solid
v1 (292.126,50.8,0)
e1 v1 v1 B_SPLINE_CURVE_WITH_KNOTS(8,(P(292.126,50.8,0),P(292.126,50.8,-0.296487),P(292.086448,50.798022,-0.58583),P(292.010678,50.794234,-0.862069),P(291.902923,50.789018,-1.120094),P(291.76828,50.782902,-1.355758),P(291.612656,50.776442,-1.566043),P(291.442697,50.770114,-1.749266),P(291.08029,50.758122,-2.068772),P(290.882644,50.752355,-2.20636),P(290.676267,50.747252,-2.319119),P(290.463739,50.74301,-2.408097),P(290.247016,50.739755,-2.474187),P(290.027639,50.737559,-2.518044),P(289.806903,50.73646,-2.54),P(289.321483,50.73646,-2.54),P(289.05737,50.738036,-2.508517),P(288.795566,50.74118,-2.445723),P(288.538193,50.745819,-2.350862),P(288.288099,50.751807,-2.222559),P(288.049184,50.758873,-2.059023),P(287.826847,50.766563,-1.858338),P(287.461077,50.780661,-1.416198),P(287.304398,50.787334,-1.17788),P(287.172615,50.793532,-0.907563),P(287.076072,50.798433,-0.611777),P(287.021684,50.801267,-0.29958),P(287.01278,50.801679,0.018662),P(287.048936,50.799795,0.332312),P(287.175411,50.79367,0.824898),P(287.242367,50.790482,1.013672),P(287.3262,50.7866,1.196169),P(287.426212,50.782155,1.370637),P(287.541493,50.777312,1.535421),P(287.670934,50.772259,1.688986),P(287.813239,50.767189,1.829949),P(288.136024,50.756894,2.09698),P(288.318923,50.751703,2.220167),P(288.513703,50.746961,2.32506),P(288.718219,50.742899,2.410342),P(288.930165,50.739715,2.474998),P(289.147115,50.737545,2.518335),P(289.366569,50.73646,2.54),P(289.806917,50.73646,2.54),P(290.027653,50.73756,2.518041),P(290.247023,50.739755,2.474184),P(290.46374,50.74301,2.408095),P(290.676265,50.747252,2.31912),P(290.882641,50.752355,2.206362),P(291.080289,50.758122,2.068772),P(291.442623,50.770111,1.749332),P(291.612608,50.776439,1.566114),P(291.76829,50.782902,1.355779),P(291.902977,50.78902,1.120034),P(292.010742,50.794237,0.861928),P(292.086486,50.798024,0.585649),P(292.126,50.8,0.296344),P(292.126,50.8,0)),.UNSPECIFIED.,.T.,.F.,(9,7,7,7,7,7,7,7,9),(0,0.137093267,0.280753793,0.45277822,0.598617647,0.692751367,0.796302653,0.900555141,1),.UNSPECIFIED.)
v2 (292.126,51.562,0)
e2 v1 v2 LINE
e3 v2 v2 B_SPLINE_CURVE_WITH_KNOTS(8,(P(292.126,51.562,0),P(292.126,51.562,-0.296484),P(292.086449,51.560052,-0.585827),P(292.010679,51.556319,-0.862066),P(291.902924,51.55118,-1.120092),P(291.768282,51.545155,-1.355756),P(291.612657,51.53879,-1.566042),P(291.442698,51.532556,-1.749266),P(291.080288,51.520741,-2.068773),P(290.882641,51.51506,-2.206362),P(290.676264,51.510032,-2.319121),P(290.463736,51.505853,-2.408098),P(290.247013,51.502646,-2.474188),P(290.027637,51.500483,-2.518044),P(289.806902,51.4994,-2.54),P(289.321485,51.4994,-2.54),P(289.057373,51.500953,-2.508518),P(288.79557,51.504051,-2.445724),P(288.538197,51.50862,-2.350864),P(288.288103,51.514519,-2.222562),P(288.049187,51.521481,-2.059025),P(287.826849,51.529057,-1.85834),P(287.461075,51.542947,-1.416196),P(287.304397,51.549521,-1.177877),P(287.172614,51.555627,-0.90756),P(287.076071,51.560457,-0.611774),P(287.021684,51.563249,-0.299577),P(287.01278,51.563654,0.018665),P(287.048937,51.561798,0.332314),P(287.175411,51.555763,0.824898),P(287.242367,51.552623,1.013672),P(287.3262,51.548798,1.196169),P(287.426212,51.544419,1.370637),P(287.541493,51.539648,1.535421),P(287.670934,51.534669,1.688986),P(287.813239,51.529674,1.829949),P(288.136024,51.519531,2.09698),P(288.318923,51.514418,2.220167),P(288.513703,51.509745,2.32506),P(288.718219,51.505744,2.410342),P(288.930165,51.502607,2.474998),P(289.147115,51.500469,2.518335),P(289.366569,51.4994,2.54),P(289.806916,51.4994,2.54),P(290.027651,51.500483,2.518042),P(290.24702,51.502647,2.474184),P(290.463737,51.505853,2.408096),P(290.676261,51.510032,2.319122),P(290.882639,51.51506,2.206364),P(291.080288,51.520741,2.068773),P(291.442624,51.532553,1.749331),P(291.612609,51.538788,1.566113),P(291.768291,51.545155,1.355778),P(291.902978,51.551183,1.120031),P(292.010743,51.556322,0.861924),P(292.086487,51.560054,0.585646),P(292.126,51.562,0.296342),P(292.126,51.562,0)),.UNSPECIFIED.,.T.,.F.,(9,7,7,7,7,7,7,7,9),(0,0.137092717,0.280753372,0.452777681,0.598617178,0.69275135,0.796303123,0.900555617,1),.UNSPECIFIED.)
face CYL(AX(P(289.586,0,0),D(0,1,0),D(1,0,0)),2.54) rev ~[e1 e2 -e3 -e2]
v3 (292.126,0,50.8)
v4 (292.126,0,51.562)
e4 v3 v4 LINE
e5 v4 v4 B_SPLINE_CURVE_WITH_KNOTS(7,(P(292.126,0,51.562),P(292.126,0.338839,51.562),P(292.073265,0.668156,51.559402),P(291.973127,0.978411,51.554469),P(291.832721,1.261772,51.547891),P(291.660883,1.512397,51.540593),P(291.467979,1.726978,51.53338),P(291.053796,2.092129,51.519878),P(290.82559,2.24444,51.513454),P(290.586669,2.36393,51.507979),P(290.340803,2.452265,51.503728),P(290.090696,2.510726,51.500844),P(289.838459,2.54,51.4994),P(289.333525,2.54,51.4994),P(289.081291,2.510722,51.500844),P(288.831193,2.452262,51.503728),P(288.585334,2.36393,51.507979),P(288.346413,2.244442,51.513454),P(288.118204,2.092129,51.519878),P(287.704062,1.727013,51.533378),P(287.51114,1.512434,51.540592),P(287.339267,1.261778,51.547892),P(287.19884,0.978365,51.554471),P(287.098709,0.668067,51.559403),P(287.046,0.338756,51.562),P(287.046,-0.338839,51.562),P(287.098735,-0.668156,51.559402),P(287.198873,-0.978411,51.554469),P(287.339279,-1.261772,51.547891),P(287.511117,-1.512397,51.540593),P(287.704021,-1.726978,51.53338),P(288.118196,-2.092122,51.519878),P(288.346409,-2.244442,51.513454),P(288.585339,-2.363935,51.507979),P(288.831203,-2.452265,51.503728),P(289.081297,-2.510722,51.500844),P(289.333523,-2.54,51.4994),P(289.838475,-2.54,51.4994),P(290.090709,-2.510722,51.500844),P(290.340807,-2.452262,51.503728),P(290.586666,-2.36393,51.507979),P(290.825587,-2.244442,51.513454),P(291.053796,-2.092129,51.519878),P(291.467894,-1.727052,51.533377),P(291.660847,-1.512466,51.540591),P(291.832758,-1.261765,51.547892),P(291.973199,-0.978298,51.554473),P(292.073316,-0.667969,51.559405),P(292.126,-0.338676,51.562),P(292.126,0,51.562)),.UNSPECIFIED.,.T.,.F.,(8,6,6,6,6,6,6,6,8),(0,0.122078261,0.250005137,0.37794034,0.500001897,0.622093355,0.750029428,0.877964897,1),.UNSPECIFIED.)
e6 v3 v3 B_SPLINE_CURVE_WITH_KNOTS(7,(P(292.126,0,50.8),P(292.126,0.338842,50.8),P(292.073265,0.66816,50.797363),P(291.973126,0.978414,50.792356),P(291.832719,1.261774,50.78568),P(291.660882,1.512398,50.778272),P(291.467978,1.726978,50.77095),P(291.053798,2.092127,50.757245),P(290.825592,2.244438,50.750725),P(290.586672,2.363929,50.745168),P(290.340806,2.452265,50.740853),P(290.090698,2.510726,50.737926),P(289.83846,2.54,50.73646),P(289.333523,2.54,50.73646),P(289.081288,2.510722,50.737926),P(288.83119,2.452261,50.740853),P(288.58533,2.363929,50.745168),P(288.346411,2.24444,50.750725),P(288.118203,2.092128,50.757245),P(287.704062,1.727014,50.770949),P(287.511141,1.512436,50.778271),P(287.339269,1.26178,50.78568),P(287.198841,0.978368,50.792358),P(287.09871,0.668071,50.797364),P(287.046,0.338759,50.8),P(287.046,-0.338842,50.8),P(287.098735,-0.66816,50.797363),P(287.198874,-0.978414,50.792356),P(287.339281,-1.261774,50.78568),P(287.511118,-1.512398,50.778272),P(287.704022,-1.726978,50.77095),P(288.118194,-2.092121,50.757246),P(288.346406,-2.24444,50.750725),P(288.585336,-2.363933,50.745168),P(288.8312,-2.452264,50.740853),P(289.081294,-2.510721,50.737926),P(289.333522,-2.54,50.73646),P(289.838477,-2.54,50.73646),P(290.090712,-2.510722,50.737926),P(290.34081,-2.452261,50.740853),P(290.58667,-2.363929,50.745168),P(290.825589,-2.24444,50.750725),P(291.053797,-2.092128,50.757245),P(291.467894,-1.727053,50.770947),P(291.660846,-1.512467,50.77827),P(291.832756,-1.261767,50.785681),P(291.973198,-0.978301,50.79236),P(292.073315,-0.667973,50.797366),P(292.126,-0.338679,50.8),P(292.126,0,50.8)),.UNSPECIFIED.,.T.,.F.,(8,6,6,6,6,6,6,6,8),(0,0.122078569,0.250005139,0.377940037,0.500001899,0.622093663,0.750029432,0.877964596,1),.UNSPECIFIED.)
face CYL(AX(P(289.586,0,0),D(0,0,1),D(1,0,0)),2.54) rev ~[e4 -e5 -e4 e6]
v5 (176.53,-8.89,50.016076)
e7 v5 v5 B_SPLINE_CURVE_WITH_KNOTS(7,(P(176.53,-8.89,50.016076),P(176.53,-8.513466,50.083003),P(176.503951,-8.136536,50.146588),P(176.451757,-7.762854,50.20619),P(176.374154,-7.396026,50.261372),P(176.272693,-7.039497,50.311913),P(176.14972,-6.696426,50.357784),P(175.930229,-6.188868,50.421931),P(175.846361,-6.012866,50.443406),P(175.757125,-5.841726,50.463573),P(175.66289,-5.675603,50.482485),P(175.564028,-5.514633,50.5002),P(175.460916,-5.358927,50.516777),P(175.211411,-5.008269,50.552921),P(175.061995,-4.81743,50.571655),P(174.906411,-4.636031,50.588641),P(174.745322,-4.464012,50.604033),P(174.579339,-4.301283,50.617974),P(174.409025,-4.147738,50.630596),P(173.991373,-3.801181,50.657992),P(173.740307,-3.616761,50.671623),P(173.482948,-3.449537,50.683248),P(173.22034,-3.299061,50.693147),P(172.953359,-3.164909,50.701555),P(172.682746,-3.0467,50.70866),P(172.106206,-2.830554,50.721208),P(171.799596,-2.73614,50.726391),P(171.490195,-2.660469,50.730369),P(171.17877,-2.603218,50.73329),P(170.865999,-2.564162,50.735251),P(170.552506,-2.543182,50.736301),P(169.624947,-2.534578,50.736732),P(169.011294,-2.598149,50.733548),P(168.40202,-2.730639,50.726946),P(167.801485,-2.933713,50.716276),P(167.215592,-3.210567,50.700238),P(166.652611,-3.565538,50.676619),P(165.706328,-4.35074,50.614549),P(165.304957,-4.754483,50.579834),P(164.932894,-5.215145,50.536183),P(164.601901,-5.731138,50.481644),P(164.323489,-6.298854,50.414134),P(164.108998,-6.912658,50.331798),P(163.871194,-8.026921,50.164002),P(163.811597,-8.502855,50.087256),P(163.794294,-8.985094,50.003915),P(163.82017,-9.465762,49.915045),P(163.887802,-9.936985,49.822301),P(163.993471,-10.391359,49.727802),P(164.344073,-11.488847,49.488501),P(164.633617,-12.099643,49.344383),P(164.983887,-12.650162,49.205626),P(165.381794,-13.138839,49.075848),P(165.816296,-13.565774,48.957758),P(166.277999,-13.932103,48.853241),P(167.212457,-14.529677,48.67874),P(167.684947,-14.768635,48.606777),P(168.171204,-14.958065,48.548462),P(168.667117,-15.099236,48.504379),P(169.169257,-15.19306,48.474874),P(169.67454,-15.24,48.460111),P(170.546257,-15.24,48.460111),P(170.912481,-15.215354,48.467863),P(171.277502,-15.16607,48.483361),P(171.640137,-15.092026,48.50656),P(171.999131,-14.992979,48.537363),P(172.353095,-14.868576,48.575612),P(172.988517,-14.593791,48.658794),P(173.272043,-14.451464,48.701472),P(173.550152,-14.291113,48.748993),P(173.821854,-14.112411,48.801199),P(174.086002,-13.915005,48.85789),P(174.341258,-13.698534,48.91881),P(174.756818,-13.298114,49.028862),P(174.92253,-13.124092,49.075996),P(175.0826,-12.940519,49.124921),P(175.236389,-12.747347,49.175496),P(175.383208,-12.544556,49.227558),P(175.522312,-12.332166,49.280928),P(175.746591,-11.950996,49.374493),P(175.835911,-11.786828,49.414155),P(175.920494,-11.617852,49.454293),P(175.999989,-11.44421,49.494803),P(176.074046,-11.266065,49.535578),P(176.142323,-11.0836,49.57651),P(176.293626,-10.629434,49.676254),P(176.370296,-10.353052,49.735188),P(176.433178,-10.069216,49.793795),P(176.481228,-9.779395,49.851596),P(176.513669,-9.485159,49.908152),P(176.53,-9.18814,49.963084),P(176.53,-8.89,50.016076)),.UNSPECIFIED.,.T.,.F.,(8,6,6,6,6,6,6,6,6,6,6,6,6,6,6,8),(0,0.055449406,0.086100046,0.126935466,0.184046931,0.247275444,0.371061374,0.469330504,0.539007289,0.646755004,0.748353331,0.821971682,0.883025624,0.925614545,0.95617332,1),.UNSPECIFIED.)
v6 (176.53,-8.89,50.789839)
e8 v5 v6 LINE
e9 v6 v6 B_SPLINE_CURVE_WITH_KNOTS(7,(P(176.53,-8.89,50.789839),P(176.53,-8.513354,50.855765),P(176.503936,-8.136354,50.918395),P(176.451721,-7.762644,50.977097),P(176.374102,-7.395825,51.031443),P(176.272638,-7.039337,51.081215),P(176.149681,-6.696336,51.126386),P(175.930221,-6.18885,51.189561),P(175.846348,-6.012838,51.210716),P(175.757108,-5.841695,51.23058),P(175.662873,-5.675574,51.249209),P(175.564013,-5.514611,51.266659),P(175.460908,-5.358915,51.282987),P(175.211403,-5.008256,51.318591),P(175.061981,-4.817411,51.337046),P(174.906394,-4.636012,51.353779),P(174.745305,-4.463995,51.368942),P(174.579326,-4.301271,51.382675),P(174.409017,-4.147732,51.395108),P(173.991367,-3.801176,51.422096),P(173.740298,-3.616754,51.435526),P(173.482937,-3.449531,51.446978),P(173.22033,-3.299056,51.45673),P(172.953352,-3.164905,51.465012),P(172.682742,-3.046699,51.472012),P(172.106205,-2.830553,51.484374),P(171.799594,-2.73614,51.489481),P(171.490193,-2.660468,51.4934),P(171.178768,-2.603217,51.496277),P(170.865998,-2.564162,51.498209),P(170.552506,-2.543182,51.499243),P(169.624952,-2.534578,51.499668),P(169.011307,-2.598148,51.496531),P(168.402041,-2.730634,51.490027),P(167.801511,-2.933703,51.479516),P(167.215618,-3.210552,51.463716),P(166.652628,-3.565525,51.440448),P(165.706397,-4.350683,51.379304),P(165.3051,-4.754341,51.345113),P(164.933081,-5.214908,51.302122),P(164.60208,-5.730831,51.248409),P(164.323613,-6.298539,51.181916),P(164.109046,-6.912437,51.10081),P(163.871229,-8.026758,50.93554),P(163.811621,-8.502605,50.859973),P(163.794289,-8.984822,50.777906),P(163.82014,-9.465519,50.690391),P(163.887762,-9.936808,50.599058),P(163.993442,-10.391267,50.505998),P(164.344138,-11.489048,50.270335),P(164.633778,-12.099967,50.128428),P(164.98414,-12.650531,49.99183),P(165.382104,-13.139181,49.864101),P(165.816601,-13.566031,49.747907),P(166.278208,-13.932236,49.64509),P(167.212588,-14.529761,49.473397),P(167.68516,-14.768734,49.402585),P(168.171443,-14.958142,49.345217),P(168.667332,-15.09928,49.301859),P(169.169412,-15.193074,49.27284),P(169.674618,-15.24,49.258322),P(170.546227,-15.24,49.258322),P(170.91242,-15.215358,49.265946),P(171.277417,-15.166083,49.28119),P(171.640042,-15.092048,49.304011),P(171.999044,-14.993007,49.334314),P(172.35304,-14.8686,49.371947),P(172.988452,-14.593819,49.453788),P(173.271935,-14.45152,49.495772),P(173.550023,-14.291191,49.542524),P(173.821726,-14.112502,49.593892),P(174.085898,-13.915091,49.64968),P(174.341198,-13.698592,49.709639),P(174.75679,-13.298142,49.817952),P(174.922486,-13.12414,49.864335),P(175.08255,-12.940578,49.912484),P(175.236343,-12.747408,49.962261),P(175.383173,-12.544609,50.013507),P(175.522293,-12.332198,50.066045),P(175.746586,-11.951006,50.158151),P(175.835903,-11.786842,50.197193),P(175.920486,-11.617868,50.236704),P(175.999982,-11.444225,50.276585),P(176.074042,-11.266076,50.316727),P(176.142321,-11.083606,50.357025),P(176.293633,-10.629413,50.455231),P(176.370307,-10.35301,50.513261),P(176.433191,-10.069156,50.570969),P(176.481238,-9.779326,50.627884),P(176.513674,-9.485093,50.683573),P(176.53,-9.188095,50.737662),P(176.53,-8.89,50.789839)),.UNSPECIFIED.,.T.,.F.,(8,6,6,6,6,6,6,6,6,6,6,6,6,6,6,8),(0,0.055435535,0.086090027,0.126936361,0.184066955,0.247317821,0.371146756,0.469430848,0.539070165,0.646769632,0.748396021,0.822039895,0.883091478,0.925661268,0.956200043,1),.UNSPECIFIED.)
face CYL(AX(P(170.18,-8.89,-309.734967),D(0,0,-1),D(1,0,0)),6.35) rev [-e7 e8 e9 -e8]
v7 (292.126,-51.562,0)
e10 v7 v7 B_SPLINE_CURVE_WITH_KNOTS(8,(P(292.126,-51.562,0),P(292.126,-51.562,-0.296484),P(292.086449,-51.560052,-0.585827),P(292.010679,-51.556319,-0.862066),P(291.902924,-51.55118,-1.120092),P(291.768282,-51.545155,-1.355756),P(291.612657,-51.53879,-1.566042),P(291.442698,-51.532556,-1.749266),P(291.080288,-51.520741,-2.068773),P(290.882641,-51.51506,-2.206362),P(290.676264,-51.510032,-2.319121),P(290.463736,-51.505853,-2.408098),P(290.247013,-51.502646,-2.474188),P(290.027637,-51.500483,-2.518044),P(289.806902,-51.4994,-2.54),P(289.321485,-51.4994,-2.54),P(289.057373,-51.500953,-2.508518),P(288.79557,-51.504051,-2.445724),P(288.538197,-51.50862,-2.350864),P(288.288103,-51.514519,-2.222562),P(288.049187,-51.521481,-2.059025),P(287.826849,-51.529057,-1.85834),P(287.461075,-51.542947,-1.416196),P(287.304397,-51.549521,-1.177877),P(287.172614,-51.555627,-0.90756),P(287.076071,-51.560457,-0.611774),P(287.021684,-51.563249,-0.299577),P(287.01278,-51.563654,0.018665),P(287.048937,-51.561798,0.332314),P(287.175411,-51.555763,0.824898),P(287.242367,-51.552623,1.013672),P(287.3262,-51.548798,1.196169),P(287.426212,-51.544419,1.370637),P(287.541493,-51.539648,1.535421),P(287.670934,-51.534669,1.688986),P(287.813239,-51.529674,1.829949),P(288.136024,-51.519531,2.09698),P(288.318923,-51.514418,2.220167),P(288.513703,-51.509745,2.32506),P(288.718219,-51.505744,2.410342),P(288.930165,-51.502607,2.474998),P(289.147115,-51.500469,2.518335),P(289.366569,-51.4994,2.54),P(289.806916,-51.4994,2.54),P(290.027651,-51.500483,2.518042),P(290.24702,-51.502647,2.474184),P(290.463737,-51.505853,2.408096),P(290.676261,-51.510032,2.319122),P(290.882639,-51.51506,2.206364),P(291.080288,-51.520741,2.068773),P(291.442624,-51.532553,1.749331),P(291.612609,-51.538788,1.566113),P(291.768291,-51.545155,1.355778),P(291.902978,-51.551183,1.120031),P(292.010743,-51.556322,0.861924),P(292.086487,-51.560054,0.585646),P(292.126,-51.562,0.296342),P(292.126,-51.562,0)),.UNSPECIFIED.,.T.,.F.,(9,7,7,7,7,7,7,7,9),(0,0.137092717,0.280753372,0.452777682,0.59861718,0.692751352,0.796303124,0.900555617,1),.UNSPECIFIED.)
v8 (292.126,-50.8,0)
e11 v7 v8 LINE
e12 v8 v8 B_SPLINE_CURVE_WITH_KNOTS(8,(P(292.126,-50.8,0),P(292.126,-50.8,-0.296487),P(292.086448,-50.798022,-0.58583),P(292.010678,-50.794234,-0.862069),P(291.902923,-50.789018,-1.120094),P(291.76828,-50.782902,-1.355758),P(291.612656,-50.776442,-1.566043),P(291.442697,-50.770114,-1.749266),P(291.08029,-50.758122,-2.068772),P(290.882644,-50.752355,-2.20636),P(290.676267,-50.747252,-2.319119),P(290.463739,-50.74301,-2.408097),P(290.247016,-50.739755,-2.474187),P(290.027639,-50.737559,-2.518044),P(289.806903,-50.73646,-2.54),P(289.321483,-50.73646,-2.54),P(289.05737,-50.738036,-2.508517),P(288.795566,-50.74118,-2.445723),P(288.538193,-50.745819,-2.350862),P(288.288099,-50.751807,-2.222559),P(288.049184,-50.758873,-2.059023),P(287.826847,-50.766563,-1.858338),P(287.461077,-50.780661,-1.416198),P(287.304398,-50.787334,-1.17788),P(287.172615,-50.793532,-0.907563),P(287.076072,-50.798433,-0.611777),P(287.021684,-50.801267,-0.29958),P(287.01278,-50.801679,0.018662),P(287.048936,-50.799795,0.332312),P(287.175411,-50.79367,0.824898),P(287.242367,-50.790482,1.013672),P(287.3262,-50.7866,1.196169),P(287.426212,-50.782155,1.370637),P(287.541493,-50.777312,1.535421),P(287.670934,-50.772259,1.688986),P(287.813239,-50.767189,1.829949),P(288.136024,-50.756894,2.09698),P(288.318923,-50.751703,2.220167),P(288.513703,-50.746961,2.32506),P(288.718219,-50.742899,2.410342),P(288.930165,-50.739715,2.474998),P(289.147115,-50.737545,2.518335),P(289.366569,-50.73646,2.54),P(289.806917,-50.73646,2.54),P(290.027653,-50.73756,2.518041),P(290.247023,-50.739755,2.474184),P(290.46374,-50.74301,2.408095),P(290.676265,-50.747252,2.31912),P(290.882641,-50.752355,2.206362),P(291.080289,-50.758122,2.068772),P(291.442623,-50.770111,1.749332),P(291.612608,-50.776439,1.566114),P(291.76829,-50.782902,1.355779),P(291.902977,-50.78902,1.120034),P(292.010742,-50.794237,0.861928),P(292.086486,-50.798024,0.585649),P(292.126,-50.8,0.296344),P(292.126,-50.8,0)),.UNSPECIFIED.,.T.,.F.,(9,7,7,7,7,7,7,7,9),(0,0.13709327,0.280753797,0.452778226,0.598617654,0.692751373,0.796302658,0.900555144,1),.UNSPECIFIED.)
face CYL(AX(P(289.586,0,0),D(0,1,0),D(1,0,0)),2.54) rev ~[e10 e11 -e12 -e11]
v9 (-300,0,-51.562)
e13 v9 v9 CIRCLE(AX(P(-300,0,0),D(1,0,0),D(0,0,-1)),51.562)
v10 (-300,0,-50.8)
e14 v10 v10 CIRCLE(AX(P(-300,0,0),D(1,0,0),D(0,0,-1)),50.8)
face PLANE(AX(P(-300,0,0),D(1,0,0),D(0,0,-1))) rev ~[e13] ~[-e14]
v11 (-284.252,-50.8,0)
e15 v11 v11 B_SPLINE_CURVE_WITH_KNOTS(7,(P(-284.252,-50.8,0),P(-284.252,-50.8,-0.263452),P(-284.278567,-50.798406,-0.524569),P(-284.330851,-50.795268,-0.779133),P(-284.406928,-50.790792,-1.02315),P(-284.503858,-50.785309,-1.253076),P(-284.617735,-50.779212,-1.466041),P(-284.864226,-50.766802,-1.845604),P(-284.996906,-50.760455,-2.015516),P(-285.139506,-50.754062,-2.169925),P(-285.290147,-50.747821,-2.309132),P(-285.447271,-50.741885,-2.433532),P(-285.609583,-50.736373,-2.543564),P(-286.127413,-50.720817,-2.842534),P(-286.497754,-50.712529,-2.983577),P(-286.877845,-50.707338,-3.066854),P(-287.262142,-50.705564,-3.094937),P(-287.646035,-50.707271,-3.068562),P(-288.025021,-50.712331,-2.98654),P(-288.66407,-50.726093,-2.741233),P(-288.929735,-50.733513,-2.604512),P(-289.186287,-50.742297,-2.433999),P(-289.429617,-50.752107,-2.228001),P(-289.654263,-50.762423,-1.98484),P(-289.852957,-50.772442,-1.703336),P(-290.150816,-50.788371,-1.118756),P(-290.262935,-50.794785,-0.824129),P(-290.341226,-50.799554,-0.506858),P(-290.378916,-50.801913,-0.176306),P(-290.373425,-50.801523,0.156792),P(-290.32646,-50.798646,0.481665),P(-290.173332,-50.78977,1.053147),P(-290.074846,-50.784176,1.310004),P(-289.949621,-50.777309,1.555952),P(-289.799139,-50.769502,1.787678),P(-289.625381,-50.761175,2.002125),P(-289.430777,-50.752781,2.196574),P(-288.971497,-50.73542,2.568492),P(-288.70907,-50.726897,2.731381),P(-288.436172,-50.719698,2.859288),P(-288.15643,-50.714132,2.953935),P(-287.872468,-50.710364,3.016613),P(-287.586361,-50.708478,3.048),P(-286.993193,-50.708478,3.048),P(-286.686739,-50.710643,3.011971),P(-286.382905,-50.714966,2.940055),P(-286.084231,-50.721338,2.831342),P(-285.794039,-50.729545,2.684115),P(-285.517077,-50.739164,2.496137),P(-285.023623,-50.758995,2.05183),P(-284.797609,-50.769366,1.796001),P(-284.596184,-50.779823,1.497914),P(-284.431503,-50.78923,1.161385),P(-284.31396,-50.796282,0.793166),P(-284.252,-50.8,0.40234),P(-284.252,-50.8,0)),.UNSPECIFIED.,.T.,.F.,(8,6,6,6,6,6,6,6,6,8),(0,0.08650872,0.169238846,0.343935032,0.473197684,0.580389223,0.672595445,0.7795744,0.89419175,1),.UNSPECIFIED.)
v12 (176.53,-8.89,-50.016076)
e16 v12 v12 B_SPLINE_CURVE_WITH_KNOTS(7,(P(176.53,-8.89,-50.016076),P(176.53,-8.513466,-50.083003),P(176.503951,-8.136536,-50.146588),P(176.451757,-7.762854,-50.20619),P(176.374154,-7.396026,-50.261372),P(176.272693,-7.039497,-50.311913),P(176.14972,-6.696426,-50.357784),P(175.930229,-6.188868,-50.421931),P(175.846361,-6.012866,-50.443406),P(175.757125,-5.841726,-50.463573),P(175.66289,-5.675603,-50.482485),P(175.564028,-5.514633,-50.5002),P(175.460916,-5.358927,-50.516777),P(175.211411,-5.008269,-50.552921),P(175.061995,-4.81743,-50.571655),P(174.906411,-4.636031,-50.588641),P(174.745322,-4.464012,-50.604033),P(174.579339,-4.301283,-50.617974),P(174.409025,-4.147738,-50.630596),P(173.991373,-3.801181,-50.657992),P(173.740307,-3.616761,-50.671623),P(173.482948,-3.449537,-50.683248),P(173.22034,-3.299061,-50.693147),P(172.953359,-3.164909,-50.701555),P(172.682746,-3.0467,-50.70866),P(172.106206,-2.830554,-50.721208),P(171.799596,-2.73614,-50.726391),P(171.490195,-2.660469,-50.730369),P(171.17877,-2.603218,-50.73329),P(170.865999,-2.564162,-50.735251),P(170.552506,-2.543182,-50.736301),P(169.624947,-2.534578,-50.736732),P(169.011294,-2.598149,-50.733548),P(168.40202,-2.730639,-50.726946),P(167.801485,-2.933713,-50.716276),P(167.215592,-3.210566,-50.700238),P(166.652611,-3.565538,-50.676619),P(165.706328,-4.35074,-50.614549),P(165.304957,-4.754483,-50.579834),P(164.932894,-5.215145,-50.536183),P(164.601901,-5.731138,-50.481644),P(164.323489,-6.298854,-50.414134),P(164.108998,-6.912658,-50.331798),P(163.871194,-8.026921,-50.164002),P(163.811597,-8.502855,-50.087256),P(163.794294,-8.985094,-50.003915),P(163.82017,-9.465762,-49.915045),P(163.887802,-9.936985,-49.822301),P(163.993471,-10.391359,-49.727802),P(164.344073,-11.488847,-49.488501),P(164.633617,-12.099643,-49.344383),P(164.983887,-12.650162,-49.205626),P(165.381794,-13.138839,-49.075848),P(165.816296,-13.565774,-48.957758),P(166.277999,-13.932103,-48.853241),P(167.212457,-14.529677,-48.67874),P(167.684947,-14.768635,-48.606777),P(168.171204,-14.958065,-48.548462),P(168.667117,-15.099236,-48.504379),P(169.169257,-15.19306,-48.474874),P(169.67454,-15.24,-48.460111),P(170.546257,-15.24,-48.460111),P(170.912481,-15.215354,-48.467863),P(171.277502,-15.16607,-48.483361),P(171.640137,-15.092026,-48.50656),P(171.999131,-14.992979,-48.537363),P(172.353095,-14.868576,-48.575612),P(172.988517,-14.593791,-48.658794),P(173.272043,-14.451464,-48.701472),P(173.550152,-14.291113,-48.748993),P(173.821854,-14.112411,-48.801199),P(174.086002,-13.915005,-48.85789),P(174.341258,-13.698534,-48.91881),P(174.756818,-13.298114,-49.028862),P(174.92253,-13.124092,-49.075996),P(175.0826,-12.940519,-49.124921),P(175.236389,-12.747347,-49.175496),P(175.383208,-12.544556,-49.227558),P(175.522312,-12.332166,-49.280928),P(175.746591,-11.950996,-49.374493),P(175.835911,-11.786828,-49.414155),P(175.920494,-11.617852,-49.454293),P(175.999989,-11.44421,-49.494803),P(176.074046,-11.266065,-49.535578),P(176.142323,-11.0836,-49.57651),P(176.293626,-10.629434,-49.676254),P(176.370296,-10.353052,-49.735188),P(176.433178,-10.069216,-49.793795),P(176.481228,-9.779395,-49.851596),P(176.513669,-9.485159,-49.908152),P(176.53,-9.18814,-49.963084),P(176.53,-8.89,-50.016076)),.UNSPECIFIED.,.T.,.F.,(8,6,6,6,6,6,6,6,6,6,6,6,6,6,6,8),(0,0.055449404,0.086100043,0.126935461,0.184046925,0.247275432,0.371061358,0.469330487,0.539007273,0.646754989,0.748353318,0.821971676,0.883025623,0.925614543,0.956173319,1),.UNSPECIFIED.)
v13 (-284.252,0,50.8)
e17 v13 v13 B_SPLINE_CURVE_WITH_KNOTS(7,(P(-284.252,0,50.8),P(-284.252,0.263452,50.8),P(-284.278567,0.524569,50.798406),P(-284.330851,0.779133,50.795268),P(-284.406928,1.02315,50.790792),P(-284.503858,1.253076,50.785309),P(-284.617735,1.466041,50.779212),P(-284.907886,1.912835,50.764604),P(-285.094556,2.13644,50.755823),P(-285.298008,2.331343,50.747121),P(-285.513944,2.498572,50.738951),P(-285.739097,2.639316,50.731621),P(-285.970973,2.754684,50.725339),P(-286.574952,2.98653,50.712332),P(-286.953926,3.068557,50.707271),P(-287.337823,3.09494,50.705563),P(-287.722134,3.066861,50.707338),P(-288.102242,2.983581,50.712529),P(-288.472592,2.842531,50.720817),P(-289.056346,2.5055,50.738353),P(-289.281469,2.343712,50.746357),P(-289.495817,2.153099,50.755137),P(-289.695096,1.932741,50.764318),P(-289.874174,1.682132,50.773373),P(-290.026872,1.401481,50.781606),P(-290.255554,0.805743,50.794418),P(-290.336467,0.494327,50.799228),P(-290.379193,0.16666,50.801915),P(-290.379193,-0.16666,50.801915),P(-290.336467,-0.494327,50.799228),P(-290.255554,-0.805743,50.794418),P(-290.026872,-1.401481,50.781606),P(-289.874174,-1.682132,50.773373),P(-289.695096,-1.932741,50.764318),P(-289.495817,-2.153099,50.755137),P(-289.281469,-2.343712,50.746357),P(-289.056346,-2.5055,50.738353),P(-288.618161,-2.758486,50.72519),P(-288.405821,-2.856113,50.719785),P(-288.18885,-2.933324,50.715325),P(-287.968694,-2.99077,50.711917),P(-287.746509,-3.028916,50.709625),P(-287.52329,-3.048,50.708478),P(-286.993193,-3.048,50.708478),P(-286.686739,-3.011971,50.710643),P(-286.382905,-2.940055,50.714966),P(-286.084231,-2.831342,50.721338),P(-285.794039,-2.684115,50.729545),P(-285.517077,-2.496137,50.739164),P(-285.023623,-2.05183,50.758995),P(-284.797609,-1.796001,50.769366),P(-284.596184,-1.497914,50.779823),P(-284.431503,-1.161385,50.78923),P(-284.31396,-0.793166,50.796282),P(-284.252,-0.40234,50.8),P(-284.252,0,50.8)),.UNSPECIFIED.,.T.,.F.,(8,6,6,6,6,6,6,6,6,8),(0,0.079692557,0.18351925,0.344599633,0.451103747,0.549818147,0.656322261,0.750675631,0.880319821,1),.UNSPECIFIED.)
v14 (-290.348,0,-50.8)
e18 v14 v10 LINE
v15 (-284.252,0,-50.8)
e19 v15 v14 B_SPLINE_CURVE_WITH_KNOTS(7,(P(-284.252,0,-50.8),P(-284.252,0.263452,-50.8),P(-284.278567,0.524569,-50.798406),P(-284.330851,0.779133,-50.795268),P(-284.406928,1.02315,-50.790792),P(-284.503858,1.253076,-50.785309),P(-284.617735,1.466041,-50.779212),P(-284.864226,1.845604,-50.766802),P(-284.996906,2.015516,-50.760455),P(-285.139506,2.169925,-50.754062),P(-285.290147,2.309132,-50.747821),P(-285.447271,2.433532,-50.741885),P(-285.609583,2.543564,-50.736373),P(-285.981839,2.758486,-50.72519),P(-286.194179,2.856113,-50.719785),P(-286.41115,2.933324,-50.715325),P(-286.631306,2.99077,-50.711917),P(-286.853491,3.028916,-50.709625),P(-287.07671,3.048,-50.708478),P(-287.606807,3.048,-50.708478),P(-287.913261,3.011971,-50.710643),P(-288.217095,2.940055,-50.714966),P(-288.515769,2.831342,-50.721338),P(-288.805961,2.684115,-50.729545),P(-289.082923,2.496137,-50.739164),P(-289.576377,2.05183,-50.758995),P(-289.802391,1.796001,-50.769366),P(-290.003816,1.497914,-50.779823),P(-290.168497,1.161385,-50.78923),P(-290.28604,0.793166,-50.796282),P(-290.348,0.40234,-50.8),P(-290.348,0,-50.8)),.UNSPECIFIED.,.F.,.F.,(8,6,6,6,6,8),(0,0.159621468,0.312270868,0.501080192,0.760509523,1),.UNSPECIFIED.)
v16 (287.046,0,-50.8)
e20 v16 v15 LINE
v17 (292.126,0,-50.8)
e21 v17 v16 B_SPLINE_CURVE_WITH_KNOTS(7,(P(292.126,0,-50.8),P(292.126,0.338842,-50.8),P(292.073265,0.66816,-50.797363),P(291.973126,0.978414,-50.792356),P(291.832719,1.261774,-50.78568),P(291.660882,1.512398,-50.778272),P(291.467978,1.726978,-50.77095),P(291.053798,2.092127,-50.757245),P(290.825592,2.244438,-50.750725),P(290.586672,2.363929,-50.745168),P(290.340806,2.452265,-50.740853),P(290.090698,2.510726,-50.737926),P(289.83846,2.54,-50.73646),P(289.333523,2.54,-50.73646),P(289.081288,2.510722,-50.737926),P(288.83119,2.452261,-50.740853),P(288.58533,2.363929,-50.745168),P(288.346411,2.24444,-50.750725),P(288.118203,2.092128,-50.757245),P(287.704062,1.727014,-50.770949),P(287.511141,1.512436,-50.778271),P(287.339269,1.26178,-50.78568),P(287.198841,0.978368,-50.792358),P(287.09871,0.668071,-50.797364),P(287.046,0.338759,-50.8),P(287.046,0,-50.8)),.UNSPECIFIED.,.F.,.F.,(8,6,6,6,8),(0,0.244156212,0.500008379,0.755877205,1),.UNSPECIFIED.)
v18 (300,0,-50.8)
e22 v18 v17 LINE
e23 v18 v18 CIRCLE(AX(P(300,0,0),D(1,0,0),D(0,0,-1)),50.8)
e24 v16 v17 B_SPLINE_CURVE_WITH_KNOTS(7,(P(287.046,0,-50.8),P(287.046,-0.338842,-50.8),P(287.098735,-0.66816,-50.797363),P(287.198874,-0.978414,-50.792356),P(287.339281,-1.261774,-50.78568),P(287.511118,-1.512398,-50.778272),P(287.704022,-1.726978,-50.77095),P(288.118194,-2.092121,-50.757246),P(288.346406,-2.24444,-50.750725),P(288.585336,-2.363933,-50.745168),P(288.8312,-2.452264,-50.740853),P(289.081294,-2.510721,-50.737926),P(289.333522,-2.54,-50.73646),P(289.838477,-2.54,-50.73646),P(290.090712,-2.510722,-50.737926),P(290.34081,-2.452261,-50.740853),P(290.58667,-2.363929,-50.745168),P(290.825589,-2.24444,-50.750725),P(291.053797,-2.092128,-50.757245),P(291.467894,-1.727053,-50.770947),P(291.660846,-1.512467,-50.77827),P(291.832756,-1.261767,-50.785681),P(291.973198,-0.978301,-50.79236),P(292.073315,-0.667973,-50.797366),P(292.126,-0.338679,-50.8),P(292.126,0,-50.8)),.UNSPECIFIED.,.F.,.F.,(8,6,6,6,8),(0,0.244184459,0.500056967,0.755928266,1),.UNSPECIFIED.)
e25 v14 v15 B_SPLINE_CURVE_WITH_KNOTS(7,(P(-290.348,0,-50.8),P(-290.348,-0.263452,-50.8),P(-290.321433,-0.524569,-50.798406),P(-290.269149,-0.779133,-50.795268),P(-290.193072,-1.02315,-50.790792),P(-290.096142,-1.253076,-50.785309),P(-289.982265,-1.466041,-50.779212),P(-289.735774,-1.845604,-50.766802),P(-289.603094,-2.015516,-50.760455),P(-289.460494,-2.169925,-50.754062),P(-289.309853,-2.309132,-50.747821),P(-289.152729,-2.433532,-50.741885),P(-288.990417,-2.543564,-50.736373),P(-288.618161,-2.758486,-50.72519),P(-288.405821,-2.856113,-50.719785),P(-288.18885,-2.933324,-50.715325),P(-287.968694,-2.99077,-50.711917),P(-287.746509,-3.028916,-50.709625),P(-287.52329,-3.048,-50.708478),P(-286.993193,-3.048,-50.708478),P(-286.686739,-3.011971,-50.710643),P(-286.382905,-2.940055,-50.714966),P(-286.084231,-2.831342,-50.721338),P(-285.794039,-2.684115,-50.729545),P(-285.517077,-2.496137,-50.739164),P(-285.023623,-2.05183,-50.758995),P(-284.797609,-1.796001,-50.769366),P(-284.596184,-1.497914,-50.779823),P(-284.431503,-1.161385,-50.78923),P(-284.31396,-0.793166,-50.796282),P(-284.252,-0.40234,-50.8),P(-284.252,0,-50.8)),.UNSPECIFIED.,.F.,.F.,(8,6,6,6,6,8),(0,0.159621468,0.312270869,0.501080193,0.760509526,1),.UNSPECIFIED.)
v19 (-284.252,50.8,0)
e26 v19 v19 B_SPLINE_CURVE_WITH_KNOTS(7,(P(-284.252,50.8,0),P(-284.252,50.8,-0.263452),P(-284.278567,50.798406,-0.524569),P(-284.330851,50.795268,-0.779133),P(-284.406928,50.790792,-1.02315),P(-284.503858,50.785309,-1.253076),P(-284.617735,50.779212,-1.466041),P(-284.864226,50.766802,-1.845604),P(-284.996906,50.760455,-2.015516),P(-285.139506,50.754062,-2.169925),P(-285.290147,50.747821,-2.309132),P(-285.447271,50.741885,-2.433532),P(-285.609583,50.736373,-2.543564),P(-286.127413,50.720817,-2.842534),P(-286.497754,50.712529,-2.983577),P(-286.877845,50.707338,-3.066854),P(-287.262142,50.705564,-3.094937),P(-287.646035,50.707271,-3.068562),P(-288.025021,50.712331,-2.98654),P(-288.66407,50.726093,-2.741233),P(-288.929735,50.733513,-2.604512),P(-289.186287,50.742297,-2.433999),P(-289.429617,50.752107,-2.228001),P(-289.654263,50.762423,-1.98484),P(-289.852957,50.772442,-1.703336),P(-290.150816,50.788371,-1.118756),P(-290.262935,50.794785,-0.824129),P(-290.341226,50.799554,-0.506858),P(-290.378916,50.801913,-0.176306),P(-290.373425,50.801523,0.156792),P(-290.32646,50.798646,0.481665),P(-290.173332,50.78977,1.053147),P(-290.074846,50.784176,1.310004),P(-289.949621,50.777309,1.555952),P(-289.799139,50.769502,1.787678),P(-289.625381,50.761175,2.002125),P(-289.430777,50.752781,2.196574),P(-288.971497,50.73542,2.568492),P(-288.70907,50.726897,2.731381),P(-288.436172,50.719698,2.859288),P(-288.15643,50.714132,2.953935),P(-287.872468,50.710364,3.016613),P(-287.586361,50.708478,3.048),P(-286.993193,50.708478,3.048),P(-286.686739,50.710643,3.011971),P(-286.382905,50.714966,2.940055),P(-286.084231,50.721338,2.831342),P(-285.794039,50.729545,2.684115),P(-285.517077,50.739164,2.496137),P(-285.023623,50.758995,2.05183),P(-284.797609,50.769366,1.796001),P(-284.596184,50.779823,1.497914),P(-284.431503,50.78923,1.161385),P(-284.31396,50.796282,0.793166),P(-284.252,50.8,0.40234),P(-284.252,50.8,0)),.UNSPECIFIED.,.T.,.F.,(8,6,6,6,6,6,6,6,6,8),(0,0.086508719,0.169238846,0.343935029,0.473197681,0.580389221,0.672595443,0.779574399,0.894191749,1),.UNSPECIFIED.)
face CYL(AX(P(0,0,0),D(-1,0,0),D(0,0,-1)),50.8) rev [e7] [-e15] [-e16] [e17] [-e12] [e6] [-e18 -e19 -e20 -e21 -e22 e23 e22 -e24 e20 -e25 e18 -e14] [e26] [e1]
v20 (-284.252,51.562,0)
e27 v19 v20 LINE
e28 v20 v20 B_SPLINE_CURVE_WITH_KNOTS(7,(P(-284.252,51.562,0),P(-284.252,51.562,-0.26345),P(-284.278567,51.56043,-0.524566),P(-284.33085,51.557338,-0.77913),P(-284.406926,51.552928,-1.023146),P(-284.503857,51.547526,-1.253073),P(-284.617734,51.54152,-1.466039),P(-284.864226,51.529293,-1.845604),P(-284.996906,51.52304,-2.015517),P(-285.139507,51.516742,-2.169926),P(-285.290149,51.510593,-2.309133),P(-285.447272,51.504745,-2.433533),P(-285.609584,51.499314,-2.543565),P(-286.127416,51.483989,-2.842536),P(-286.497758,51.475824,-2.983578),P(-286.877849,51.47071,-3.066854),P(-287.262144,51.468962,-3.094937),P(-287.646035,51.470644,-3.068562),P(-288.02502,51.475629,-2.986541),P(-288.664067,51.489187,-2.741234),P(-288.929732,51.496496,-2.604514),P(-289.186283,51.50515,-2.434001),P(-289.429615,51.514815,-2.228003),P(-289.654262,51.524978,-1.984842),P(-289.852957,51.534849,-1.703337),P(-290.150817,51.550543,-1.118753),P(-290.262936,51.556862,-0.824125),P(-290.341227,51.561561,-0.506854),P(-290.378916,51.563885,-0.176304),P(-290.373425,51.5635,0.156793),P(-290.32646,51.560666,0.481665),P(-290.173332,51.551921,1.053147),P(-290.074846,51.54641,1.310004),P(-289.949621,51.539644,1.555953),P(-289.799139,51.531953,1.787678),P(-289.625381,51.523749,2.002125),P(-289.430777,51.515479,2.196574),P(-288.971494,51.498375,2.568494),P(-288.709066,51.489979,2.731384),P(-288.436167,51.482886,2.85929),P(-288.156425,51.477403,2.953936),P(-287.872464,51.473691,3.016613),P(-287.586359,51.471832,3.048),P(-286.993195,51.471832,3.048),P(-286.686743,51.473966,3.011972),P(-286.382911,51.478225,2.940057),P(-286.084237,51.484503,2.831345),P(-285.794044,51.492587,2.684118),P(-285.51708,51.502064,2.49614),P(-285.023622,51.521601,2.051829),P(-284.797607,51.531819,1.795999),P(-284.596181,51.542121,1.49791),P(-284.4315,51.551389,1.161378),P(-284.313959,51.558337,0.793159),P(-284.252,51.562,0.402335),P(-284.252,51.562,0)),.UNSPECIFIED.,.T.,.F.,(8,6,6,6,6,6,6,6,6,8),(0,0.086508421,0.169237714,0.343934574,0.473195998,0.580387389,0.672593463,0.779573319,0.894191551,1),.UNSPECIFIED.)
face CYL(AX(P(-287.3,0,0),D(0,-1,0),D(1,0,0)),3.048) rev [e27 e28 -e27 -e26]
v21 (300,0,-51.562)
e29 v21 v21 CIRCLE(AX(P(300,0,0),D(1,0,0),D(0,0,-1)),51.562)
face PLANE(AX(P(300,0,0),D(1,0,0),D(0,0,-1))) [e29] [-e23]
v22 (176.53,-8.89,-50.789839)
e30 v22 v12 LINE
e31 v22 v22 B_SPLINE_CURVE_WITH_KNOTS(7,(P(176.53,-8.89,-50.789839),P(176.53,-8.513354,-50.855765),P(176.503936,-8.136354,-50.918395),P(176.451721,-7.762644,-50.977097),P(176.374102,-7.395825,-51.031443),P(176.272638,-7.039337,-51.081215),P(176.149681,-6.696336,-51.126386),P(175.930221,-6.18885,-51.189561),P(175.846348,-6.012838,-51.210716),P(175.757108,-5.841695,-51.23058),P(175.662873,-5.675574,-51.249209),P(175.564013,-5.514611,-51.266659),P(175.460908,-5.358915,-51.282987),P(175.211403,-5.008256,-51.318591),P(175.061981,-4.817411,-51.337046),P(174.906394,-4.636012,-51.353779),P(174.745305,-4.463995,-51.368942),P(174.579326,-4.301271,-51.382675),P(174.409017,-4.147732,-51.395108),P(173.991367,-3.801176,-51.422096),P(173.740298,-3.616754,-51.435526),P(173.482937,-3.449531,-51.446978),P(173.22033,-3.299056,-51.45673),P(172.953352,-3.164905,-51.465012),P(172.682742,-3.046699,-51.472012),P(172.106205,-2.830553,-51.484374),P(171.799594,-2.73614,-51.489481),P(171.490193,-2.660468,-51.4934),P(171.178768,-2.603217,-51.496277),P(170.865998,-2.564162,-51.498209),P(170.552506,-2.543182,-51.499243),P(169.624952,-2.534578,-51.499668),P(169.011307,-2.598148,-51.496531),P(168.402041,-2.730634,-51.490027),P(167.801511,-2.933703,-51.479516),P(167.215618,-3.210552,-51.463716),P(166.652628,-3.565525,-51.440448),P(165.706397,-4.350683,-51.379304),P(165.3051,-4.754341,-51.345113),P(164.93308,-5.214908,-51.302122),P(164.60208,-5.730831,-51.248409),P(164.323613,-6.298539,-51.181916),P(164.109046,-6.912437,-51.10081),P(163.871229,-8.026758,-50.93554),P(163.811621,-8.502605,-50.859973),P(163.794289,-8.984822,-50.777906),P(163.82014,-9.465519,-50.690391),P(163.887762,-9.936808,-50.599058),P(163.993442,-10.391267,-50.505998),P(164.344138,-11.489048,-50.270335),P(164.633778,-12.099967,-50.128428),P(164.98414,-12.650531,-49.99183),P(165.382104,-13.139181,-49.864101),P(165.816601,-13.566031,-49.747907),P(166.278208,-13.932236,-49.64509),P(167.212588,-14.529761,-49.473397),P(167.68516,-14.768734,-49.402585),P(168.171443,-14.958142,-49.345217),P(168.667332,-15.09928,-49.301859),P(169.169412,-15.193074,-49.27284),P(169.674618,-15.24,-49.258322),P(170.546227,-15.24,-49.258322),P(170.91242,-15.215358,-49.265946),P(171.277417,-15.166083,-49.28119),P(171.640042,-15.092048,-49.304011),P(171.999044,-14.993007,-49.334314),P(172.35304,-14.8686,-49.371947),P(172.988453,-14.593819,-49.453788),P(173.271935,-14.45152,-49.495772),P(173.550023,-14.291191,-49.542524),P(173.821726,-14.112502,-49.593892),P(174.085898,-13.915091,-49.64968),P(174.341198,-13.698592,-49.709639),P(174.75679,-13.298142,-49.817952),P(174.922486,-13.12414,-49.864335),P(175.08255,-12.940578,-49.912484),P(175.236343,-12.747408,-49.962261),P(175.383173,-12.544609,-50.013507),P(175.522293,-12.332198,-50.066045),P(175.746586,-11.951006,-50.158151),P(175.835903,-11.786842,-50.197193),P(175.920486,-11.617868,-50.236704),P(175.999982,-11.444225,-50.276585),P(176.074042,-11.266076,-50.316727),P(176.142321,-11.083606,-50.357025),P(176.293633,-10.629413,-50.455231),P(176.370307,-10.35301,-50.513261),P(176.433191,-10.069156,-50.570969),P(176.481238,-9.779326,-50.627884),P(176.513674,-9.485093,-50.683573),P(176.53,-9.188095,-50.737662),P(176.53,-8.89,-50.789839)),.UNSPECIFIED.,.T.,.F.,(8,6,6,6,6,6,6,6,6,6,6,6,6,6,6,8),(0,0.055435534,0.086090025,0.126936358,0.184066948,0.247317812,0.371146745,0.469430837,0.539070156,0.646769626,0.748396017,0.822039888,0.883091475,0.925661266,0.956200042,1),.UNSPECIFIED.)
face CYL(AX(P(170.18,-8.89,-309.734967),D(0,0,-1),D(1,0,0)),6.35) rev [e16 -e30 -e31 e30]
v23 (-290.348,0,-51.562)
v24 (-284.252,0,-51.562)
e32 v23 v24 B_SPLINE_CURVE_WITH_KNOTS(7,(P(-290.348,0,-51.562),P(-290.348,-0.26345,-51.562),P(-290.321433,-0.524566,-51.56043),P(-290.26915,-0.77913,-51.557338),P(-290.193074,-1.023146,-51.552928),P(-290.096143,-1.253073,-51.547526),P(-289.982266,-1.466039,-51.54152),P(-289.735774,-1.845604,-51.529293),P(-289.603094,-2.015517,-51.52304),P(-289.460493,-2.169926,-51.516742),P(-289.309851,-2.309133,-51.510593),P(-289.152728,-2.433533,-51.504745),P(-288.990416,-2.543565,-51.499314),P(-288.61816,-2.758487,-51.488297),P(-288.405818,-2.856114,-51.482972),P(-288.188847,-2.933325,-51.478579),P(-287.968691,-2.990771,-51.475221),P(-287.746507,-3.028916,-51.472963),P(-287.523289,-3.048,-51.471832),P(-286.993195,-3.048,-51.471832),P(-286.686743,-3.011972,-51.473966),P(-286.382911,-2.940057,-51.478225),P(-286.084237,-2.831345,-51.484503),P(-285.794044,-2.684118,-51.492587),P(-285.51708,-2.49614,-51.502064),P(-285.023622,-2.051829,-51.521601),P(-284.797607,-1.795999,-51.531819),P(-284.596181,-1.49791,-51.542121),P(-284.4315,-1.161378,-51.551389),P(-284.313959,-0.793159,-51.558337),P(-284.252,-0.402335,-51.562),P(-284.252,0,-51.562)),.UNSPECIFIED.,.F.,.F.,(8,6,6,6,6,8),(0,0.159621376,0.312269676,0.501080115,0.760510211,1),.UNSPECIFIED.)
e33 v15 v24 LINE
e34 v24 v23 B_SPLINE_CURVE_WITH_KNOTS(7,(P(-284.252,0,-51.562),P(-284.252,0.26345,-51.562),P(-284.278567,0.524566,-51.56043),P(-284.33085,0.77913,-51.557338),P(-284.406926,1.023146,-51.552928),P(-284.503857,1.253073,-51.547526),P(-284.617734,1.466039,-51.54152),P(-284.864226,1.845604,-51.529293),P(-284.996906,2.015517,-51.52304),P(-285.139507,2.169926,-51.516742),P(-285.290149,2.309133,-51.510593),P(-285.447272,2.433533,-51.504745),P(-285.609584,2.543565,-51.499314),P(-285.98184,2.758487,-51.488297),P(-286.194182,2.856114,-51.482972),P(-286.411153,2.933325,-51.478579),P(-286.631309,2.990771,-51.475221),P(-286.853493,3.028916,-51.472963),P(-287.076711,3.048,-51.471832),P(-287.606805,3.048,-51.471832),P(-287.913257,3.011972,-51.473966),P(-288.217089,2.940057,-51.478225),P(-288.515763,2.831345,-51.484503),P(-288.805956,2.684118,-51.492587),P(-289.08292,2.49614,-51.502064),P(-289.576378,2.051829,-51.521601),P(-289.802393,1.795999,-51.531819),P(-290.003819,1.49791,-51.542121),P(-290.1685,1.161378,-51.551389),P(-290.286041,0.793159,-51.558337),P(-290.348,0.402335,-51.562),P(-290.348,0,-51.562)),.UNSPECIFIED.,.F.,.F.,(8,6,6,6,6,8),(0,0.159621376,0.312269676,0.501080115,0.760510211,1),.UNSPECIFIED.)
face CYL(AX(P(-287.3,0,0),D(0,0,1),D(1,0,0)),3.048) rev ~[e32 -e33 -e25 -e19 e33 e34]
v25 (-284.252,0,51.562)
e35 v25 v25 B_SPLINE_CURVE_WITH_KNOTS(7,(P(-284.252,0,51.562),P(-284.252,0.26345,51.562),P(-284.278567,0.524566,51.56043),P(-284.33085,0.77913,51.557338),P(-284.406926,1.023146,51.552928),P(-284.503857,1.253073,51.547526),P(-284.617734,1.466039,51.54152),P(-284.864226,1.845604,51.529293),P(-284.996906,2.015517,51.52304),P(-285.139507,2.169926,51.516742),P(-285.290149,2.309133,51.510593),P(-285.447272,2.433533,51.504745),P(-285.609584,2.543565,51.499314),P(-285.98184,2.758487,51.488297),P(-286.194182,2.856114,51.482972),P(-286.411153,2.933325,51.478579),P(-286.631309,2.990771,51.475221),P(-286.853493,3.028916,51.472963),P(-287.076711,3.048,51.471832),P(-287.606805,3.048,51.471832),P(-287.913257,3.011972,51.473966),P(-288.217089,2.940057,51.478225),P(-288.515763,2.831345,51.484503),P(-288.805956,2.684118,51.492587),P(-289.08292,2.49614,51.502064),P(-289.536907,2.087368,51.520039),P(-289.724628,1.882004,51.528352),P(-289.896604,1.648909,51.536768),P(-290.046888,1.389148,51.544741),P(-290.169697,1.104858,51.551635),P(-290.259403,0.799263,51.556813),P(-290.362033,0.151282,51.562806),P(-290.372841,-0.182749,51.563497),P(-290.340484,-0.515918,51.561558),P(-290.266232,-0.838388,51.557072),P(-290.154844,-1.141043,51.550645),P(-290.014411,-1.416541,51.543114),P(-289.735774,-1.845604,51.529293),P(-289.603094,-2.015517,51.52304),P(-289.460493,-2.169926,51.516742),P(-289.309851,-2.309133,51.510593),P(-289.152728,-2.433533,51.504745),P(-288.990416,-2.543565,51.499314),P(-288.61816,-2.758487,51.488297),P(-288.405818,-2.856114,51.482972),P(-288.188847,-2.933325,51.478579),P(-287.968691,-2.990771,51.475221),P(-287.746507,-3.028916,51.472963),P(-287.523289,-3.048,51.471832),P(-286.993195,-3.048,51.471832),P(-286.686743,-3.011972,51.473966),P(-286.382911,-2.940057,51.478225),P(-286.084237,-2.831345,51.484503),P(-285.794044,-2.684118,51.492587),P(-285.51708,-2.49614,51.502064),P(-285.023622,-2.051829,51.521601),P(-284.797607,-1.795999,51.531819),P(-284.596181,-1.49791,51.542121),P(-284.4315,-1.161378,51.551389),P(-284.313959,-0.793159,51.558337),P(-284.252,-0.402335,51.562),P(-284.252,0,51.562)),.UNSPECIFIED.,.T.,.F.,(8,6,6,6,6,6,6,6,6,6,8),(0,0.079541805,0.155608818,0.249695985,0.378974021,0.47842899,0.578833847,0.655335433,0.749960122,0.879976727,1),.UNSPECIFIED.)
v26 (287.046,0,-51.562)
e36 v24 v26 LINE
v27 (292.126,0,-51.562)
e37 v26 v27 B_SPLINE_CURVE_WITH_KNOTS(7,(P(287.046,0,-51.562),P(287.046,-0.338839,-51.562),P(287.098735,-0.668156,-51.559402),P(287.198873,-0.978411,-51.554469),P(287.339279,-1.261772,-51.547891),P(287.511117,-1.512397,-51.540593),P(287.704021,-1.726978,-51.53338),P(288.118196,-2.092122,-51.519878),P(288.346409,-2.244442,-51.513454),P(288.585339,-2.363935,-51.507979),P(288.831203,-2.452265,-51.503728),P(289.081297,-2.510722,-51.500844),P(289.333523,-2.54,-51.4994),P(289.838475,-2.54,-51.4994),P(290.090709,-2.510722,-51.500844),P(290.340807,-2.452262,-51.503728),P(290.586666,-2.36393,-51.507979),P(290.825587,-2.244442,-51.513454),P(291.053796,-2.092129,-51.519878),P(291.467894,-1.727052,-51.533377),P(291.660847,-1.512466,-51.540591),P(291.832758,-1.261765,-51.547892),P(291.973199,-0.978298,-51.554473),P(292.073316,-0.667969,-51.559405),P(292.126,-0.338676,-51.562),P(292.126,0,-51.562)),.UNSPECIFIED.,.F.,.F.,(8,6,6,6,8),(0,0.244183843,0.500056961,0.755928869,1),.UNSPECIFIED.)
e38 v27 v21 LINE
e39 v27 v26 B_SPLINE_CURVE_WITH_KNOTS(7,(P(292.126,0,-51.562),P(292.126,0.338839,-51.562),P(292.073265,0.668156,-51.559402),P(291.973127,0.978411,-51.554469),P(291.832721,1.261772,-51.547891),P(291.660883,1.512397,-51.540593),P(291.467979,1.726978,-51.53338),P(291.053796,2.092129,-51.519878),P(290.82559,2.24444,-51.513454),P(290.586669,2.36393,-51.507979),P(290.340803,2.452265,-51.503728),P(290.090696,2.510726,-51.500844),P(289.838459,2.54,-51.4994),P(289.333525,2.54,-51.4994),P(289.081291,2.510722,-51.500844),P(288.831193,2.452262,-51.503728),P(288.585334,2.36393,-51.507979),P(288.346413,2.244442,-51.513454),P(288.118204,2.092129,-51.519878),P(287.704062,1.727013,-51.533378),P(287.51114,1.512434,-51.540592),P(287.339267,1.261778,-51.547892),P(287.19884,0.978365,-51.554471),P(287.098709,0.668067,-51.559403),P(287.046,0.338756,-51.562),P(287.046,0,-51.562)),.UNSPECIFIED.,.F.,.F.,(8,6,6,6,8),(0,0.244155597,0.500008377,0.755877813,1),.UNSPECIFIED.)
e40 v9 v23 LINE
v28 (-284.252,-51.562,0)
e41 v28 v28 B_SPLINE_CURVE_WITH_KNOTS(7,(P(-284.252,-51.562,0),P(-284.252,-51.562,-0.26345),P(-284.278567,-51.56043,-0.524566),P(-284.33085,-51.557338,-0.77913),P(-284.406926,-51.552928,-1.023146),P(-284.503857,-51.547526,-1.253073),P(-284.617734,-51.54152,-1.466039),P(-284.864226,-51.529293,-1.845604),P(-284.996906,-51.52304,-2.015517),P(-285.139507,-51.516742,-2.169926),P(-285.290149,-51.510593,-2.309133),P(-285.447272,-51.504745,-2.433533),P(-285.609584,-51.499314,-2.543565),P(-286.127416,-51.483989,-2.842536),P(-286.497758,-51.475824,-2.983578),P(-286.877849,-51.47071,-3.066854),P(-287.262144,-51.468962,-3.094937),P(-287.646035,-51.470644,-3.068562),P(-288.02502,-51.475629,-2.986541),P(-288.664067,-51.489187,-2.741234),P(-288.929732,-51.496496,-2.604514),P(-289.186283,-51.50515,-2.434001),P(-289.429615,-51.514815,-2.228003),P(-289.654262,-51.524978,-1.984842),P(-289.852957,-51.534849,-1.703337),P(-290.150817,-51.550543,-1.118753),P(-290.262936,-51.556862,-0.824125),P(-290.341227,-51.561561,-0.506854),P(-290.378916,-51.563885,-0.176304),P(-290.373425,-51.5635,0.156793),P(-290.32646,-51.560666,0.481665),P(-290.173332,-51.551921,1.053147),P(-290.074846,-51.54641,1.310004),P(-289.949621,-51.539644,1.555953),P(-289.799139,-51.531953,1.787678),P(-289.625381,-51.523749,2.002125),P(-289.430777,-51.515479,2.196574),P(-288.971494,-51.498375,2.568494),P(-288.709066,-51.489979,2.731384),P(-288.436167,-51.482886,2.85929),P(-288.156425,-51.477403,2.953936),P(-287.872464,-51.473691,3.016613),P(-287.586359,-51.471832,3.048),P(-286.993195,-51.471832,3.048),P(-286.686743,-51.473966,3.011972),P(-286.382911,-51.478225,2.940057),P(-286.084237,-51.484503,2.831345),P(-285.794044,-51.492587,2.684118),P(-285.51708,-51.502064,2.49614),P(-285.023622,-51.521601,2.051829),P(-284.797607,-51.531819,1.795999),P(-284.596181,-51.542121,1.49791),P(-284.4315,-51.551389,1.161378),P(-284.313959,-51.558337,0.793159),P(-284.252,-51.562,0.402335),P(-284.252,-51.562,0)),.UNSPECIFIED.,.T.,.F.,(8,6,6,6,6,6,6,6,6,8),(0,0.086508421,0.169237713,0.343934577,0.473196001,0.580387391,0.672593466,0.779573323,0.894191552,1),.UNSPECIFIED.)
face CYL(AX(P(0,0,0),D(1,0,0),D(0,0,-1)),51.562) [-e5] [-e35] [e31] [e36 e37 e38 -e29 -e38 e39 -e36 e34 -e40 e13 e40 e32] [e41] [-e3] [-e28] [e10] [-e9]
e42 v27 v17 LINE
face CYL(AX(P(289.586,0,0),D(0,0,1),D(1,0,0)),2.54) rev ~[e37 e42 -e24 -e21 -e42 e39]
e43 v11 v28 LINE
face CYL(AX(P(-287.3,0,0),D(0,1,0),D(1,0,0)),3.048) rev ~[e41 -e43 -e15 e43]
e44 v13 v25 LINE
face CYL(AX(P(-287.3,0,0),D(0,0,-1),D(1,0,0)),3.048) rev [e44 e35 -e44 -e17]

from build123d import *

# Parameters (mm, degrees)
SKETCH1_R               = 51.562
SKETCH1_R_2             = 50.8
BOSS_EXTRUDE1_DEPTH     = 300
CUT_EXTRUDE1_DEPTH      = 309.73496674
CUT_EXTRUDE1_DEPTH_BACK = 309.73496674
SKETCH3_R               = 6.35
SKETCH4_R               = 3.048
SKETCH4_R_2             = 2.54
CUT_EXTRUDE2_DEPTH      = 309.734966871
CIRPATTERN1_COUNT       = 2
CIRPATTERN1_ANGLE       = 90


with BuildPart() as part:
    # Sketch1 → Boss-Extrude1 (new, symmetric)
    with BuildSketch(Plane(origin=(0, 0, 0), x_dir=(0, 0, -1), z_dir=(1, 0, 0))):
        Circle(SKETCH1_R)
        Circle(SKETCH1_R_2, mode=Mode.SUBTRACT)
    extrude(amount=BOSS_EXTRUDE1_DEPTH, both=True)

    # Sketch3 → Cut-Extrude1 (cut, two sides: drawn at the far end of the back side and taken through both)
    with BuildSketch(Plane.XY.offset(-CUT_EXTRUDE1_DEPTH_BACK)):
        with Locations((170.180000052, -8.89)):
            Circle(SKETCH3_R)
    extrude(amount=CUT_EXTRUDE1_DEPTH + CUT_EXTRUDE1_DEPTH_BACK, mode=Mode.SUBTRACT)

    # Sketch4 → Cut-Extrude2 (cut, symmetric)
    with BuildSketch(Plane.XY):
        with Locations((-287.3, 0)):
            Circle(SKETCH4_R)
        with Locations((289.586, 0)):
            Circle(SKETCH4_R_2)
    cut_extrude2 = extrude(amount=CUT_EXTRUDE2_DEPTH, both=True, mode=Mode.SUBTRACT)

    # CirPattern1: Cut-Extrude2 ×2 about axis
    cirpattern1_axis = Axis((300, 0, 0), (-1, 0, 0))
    for i in range(1, CIRPATTERN1_COUNT):
        add(cut_extrude2.rotate(cirpattern1_axis, i * CIRPATTERN1_ANGLE / (CIRPATTERN1_COUNT - 1)), mode=Mode.SUBTRACT)


solid = part.part
